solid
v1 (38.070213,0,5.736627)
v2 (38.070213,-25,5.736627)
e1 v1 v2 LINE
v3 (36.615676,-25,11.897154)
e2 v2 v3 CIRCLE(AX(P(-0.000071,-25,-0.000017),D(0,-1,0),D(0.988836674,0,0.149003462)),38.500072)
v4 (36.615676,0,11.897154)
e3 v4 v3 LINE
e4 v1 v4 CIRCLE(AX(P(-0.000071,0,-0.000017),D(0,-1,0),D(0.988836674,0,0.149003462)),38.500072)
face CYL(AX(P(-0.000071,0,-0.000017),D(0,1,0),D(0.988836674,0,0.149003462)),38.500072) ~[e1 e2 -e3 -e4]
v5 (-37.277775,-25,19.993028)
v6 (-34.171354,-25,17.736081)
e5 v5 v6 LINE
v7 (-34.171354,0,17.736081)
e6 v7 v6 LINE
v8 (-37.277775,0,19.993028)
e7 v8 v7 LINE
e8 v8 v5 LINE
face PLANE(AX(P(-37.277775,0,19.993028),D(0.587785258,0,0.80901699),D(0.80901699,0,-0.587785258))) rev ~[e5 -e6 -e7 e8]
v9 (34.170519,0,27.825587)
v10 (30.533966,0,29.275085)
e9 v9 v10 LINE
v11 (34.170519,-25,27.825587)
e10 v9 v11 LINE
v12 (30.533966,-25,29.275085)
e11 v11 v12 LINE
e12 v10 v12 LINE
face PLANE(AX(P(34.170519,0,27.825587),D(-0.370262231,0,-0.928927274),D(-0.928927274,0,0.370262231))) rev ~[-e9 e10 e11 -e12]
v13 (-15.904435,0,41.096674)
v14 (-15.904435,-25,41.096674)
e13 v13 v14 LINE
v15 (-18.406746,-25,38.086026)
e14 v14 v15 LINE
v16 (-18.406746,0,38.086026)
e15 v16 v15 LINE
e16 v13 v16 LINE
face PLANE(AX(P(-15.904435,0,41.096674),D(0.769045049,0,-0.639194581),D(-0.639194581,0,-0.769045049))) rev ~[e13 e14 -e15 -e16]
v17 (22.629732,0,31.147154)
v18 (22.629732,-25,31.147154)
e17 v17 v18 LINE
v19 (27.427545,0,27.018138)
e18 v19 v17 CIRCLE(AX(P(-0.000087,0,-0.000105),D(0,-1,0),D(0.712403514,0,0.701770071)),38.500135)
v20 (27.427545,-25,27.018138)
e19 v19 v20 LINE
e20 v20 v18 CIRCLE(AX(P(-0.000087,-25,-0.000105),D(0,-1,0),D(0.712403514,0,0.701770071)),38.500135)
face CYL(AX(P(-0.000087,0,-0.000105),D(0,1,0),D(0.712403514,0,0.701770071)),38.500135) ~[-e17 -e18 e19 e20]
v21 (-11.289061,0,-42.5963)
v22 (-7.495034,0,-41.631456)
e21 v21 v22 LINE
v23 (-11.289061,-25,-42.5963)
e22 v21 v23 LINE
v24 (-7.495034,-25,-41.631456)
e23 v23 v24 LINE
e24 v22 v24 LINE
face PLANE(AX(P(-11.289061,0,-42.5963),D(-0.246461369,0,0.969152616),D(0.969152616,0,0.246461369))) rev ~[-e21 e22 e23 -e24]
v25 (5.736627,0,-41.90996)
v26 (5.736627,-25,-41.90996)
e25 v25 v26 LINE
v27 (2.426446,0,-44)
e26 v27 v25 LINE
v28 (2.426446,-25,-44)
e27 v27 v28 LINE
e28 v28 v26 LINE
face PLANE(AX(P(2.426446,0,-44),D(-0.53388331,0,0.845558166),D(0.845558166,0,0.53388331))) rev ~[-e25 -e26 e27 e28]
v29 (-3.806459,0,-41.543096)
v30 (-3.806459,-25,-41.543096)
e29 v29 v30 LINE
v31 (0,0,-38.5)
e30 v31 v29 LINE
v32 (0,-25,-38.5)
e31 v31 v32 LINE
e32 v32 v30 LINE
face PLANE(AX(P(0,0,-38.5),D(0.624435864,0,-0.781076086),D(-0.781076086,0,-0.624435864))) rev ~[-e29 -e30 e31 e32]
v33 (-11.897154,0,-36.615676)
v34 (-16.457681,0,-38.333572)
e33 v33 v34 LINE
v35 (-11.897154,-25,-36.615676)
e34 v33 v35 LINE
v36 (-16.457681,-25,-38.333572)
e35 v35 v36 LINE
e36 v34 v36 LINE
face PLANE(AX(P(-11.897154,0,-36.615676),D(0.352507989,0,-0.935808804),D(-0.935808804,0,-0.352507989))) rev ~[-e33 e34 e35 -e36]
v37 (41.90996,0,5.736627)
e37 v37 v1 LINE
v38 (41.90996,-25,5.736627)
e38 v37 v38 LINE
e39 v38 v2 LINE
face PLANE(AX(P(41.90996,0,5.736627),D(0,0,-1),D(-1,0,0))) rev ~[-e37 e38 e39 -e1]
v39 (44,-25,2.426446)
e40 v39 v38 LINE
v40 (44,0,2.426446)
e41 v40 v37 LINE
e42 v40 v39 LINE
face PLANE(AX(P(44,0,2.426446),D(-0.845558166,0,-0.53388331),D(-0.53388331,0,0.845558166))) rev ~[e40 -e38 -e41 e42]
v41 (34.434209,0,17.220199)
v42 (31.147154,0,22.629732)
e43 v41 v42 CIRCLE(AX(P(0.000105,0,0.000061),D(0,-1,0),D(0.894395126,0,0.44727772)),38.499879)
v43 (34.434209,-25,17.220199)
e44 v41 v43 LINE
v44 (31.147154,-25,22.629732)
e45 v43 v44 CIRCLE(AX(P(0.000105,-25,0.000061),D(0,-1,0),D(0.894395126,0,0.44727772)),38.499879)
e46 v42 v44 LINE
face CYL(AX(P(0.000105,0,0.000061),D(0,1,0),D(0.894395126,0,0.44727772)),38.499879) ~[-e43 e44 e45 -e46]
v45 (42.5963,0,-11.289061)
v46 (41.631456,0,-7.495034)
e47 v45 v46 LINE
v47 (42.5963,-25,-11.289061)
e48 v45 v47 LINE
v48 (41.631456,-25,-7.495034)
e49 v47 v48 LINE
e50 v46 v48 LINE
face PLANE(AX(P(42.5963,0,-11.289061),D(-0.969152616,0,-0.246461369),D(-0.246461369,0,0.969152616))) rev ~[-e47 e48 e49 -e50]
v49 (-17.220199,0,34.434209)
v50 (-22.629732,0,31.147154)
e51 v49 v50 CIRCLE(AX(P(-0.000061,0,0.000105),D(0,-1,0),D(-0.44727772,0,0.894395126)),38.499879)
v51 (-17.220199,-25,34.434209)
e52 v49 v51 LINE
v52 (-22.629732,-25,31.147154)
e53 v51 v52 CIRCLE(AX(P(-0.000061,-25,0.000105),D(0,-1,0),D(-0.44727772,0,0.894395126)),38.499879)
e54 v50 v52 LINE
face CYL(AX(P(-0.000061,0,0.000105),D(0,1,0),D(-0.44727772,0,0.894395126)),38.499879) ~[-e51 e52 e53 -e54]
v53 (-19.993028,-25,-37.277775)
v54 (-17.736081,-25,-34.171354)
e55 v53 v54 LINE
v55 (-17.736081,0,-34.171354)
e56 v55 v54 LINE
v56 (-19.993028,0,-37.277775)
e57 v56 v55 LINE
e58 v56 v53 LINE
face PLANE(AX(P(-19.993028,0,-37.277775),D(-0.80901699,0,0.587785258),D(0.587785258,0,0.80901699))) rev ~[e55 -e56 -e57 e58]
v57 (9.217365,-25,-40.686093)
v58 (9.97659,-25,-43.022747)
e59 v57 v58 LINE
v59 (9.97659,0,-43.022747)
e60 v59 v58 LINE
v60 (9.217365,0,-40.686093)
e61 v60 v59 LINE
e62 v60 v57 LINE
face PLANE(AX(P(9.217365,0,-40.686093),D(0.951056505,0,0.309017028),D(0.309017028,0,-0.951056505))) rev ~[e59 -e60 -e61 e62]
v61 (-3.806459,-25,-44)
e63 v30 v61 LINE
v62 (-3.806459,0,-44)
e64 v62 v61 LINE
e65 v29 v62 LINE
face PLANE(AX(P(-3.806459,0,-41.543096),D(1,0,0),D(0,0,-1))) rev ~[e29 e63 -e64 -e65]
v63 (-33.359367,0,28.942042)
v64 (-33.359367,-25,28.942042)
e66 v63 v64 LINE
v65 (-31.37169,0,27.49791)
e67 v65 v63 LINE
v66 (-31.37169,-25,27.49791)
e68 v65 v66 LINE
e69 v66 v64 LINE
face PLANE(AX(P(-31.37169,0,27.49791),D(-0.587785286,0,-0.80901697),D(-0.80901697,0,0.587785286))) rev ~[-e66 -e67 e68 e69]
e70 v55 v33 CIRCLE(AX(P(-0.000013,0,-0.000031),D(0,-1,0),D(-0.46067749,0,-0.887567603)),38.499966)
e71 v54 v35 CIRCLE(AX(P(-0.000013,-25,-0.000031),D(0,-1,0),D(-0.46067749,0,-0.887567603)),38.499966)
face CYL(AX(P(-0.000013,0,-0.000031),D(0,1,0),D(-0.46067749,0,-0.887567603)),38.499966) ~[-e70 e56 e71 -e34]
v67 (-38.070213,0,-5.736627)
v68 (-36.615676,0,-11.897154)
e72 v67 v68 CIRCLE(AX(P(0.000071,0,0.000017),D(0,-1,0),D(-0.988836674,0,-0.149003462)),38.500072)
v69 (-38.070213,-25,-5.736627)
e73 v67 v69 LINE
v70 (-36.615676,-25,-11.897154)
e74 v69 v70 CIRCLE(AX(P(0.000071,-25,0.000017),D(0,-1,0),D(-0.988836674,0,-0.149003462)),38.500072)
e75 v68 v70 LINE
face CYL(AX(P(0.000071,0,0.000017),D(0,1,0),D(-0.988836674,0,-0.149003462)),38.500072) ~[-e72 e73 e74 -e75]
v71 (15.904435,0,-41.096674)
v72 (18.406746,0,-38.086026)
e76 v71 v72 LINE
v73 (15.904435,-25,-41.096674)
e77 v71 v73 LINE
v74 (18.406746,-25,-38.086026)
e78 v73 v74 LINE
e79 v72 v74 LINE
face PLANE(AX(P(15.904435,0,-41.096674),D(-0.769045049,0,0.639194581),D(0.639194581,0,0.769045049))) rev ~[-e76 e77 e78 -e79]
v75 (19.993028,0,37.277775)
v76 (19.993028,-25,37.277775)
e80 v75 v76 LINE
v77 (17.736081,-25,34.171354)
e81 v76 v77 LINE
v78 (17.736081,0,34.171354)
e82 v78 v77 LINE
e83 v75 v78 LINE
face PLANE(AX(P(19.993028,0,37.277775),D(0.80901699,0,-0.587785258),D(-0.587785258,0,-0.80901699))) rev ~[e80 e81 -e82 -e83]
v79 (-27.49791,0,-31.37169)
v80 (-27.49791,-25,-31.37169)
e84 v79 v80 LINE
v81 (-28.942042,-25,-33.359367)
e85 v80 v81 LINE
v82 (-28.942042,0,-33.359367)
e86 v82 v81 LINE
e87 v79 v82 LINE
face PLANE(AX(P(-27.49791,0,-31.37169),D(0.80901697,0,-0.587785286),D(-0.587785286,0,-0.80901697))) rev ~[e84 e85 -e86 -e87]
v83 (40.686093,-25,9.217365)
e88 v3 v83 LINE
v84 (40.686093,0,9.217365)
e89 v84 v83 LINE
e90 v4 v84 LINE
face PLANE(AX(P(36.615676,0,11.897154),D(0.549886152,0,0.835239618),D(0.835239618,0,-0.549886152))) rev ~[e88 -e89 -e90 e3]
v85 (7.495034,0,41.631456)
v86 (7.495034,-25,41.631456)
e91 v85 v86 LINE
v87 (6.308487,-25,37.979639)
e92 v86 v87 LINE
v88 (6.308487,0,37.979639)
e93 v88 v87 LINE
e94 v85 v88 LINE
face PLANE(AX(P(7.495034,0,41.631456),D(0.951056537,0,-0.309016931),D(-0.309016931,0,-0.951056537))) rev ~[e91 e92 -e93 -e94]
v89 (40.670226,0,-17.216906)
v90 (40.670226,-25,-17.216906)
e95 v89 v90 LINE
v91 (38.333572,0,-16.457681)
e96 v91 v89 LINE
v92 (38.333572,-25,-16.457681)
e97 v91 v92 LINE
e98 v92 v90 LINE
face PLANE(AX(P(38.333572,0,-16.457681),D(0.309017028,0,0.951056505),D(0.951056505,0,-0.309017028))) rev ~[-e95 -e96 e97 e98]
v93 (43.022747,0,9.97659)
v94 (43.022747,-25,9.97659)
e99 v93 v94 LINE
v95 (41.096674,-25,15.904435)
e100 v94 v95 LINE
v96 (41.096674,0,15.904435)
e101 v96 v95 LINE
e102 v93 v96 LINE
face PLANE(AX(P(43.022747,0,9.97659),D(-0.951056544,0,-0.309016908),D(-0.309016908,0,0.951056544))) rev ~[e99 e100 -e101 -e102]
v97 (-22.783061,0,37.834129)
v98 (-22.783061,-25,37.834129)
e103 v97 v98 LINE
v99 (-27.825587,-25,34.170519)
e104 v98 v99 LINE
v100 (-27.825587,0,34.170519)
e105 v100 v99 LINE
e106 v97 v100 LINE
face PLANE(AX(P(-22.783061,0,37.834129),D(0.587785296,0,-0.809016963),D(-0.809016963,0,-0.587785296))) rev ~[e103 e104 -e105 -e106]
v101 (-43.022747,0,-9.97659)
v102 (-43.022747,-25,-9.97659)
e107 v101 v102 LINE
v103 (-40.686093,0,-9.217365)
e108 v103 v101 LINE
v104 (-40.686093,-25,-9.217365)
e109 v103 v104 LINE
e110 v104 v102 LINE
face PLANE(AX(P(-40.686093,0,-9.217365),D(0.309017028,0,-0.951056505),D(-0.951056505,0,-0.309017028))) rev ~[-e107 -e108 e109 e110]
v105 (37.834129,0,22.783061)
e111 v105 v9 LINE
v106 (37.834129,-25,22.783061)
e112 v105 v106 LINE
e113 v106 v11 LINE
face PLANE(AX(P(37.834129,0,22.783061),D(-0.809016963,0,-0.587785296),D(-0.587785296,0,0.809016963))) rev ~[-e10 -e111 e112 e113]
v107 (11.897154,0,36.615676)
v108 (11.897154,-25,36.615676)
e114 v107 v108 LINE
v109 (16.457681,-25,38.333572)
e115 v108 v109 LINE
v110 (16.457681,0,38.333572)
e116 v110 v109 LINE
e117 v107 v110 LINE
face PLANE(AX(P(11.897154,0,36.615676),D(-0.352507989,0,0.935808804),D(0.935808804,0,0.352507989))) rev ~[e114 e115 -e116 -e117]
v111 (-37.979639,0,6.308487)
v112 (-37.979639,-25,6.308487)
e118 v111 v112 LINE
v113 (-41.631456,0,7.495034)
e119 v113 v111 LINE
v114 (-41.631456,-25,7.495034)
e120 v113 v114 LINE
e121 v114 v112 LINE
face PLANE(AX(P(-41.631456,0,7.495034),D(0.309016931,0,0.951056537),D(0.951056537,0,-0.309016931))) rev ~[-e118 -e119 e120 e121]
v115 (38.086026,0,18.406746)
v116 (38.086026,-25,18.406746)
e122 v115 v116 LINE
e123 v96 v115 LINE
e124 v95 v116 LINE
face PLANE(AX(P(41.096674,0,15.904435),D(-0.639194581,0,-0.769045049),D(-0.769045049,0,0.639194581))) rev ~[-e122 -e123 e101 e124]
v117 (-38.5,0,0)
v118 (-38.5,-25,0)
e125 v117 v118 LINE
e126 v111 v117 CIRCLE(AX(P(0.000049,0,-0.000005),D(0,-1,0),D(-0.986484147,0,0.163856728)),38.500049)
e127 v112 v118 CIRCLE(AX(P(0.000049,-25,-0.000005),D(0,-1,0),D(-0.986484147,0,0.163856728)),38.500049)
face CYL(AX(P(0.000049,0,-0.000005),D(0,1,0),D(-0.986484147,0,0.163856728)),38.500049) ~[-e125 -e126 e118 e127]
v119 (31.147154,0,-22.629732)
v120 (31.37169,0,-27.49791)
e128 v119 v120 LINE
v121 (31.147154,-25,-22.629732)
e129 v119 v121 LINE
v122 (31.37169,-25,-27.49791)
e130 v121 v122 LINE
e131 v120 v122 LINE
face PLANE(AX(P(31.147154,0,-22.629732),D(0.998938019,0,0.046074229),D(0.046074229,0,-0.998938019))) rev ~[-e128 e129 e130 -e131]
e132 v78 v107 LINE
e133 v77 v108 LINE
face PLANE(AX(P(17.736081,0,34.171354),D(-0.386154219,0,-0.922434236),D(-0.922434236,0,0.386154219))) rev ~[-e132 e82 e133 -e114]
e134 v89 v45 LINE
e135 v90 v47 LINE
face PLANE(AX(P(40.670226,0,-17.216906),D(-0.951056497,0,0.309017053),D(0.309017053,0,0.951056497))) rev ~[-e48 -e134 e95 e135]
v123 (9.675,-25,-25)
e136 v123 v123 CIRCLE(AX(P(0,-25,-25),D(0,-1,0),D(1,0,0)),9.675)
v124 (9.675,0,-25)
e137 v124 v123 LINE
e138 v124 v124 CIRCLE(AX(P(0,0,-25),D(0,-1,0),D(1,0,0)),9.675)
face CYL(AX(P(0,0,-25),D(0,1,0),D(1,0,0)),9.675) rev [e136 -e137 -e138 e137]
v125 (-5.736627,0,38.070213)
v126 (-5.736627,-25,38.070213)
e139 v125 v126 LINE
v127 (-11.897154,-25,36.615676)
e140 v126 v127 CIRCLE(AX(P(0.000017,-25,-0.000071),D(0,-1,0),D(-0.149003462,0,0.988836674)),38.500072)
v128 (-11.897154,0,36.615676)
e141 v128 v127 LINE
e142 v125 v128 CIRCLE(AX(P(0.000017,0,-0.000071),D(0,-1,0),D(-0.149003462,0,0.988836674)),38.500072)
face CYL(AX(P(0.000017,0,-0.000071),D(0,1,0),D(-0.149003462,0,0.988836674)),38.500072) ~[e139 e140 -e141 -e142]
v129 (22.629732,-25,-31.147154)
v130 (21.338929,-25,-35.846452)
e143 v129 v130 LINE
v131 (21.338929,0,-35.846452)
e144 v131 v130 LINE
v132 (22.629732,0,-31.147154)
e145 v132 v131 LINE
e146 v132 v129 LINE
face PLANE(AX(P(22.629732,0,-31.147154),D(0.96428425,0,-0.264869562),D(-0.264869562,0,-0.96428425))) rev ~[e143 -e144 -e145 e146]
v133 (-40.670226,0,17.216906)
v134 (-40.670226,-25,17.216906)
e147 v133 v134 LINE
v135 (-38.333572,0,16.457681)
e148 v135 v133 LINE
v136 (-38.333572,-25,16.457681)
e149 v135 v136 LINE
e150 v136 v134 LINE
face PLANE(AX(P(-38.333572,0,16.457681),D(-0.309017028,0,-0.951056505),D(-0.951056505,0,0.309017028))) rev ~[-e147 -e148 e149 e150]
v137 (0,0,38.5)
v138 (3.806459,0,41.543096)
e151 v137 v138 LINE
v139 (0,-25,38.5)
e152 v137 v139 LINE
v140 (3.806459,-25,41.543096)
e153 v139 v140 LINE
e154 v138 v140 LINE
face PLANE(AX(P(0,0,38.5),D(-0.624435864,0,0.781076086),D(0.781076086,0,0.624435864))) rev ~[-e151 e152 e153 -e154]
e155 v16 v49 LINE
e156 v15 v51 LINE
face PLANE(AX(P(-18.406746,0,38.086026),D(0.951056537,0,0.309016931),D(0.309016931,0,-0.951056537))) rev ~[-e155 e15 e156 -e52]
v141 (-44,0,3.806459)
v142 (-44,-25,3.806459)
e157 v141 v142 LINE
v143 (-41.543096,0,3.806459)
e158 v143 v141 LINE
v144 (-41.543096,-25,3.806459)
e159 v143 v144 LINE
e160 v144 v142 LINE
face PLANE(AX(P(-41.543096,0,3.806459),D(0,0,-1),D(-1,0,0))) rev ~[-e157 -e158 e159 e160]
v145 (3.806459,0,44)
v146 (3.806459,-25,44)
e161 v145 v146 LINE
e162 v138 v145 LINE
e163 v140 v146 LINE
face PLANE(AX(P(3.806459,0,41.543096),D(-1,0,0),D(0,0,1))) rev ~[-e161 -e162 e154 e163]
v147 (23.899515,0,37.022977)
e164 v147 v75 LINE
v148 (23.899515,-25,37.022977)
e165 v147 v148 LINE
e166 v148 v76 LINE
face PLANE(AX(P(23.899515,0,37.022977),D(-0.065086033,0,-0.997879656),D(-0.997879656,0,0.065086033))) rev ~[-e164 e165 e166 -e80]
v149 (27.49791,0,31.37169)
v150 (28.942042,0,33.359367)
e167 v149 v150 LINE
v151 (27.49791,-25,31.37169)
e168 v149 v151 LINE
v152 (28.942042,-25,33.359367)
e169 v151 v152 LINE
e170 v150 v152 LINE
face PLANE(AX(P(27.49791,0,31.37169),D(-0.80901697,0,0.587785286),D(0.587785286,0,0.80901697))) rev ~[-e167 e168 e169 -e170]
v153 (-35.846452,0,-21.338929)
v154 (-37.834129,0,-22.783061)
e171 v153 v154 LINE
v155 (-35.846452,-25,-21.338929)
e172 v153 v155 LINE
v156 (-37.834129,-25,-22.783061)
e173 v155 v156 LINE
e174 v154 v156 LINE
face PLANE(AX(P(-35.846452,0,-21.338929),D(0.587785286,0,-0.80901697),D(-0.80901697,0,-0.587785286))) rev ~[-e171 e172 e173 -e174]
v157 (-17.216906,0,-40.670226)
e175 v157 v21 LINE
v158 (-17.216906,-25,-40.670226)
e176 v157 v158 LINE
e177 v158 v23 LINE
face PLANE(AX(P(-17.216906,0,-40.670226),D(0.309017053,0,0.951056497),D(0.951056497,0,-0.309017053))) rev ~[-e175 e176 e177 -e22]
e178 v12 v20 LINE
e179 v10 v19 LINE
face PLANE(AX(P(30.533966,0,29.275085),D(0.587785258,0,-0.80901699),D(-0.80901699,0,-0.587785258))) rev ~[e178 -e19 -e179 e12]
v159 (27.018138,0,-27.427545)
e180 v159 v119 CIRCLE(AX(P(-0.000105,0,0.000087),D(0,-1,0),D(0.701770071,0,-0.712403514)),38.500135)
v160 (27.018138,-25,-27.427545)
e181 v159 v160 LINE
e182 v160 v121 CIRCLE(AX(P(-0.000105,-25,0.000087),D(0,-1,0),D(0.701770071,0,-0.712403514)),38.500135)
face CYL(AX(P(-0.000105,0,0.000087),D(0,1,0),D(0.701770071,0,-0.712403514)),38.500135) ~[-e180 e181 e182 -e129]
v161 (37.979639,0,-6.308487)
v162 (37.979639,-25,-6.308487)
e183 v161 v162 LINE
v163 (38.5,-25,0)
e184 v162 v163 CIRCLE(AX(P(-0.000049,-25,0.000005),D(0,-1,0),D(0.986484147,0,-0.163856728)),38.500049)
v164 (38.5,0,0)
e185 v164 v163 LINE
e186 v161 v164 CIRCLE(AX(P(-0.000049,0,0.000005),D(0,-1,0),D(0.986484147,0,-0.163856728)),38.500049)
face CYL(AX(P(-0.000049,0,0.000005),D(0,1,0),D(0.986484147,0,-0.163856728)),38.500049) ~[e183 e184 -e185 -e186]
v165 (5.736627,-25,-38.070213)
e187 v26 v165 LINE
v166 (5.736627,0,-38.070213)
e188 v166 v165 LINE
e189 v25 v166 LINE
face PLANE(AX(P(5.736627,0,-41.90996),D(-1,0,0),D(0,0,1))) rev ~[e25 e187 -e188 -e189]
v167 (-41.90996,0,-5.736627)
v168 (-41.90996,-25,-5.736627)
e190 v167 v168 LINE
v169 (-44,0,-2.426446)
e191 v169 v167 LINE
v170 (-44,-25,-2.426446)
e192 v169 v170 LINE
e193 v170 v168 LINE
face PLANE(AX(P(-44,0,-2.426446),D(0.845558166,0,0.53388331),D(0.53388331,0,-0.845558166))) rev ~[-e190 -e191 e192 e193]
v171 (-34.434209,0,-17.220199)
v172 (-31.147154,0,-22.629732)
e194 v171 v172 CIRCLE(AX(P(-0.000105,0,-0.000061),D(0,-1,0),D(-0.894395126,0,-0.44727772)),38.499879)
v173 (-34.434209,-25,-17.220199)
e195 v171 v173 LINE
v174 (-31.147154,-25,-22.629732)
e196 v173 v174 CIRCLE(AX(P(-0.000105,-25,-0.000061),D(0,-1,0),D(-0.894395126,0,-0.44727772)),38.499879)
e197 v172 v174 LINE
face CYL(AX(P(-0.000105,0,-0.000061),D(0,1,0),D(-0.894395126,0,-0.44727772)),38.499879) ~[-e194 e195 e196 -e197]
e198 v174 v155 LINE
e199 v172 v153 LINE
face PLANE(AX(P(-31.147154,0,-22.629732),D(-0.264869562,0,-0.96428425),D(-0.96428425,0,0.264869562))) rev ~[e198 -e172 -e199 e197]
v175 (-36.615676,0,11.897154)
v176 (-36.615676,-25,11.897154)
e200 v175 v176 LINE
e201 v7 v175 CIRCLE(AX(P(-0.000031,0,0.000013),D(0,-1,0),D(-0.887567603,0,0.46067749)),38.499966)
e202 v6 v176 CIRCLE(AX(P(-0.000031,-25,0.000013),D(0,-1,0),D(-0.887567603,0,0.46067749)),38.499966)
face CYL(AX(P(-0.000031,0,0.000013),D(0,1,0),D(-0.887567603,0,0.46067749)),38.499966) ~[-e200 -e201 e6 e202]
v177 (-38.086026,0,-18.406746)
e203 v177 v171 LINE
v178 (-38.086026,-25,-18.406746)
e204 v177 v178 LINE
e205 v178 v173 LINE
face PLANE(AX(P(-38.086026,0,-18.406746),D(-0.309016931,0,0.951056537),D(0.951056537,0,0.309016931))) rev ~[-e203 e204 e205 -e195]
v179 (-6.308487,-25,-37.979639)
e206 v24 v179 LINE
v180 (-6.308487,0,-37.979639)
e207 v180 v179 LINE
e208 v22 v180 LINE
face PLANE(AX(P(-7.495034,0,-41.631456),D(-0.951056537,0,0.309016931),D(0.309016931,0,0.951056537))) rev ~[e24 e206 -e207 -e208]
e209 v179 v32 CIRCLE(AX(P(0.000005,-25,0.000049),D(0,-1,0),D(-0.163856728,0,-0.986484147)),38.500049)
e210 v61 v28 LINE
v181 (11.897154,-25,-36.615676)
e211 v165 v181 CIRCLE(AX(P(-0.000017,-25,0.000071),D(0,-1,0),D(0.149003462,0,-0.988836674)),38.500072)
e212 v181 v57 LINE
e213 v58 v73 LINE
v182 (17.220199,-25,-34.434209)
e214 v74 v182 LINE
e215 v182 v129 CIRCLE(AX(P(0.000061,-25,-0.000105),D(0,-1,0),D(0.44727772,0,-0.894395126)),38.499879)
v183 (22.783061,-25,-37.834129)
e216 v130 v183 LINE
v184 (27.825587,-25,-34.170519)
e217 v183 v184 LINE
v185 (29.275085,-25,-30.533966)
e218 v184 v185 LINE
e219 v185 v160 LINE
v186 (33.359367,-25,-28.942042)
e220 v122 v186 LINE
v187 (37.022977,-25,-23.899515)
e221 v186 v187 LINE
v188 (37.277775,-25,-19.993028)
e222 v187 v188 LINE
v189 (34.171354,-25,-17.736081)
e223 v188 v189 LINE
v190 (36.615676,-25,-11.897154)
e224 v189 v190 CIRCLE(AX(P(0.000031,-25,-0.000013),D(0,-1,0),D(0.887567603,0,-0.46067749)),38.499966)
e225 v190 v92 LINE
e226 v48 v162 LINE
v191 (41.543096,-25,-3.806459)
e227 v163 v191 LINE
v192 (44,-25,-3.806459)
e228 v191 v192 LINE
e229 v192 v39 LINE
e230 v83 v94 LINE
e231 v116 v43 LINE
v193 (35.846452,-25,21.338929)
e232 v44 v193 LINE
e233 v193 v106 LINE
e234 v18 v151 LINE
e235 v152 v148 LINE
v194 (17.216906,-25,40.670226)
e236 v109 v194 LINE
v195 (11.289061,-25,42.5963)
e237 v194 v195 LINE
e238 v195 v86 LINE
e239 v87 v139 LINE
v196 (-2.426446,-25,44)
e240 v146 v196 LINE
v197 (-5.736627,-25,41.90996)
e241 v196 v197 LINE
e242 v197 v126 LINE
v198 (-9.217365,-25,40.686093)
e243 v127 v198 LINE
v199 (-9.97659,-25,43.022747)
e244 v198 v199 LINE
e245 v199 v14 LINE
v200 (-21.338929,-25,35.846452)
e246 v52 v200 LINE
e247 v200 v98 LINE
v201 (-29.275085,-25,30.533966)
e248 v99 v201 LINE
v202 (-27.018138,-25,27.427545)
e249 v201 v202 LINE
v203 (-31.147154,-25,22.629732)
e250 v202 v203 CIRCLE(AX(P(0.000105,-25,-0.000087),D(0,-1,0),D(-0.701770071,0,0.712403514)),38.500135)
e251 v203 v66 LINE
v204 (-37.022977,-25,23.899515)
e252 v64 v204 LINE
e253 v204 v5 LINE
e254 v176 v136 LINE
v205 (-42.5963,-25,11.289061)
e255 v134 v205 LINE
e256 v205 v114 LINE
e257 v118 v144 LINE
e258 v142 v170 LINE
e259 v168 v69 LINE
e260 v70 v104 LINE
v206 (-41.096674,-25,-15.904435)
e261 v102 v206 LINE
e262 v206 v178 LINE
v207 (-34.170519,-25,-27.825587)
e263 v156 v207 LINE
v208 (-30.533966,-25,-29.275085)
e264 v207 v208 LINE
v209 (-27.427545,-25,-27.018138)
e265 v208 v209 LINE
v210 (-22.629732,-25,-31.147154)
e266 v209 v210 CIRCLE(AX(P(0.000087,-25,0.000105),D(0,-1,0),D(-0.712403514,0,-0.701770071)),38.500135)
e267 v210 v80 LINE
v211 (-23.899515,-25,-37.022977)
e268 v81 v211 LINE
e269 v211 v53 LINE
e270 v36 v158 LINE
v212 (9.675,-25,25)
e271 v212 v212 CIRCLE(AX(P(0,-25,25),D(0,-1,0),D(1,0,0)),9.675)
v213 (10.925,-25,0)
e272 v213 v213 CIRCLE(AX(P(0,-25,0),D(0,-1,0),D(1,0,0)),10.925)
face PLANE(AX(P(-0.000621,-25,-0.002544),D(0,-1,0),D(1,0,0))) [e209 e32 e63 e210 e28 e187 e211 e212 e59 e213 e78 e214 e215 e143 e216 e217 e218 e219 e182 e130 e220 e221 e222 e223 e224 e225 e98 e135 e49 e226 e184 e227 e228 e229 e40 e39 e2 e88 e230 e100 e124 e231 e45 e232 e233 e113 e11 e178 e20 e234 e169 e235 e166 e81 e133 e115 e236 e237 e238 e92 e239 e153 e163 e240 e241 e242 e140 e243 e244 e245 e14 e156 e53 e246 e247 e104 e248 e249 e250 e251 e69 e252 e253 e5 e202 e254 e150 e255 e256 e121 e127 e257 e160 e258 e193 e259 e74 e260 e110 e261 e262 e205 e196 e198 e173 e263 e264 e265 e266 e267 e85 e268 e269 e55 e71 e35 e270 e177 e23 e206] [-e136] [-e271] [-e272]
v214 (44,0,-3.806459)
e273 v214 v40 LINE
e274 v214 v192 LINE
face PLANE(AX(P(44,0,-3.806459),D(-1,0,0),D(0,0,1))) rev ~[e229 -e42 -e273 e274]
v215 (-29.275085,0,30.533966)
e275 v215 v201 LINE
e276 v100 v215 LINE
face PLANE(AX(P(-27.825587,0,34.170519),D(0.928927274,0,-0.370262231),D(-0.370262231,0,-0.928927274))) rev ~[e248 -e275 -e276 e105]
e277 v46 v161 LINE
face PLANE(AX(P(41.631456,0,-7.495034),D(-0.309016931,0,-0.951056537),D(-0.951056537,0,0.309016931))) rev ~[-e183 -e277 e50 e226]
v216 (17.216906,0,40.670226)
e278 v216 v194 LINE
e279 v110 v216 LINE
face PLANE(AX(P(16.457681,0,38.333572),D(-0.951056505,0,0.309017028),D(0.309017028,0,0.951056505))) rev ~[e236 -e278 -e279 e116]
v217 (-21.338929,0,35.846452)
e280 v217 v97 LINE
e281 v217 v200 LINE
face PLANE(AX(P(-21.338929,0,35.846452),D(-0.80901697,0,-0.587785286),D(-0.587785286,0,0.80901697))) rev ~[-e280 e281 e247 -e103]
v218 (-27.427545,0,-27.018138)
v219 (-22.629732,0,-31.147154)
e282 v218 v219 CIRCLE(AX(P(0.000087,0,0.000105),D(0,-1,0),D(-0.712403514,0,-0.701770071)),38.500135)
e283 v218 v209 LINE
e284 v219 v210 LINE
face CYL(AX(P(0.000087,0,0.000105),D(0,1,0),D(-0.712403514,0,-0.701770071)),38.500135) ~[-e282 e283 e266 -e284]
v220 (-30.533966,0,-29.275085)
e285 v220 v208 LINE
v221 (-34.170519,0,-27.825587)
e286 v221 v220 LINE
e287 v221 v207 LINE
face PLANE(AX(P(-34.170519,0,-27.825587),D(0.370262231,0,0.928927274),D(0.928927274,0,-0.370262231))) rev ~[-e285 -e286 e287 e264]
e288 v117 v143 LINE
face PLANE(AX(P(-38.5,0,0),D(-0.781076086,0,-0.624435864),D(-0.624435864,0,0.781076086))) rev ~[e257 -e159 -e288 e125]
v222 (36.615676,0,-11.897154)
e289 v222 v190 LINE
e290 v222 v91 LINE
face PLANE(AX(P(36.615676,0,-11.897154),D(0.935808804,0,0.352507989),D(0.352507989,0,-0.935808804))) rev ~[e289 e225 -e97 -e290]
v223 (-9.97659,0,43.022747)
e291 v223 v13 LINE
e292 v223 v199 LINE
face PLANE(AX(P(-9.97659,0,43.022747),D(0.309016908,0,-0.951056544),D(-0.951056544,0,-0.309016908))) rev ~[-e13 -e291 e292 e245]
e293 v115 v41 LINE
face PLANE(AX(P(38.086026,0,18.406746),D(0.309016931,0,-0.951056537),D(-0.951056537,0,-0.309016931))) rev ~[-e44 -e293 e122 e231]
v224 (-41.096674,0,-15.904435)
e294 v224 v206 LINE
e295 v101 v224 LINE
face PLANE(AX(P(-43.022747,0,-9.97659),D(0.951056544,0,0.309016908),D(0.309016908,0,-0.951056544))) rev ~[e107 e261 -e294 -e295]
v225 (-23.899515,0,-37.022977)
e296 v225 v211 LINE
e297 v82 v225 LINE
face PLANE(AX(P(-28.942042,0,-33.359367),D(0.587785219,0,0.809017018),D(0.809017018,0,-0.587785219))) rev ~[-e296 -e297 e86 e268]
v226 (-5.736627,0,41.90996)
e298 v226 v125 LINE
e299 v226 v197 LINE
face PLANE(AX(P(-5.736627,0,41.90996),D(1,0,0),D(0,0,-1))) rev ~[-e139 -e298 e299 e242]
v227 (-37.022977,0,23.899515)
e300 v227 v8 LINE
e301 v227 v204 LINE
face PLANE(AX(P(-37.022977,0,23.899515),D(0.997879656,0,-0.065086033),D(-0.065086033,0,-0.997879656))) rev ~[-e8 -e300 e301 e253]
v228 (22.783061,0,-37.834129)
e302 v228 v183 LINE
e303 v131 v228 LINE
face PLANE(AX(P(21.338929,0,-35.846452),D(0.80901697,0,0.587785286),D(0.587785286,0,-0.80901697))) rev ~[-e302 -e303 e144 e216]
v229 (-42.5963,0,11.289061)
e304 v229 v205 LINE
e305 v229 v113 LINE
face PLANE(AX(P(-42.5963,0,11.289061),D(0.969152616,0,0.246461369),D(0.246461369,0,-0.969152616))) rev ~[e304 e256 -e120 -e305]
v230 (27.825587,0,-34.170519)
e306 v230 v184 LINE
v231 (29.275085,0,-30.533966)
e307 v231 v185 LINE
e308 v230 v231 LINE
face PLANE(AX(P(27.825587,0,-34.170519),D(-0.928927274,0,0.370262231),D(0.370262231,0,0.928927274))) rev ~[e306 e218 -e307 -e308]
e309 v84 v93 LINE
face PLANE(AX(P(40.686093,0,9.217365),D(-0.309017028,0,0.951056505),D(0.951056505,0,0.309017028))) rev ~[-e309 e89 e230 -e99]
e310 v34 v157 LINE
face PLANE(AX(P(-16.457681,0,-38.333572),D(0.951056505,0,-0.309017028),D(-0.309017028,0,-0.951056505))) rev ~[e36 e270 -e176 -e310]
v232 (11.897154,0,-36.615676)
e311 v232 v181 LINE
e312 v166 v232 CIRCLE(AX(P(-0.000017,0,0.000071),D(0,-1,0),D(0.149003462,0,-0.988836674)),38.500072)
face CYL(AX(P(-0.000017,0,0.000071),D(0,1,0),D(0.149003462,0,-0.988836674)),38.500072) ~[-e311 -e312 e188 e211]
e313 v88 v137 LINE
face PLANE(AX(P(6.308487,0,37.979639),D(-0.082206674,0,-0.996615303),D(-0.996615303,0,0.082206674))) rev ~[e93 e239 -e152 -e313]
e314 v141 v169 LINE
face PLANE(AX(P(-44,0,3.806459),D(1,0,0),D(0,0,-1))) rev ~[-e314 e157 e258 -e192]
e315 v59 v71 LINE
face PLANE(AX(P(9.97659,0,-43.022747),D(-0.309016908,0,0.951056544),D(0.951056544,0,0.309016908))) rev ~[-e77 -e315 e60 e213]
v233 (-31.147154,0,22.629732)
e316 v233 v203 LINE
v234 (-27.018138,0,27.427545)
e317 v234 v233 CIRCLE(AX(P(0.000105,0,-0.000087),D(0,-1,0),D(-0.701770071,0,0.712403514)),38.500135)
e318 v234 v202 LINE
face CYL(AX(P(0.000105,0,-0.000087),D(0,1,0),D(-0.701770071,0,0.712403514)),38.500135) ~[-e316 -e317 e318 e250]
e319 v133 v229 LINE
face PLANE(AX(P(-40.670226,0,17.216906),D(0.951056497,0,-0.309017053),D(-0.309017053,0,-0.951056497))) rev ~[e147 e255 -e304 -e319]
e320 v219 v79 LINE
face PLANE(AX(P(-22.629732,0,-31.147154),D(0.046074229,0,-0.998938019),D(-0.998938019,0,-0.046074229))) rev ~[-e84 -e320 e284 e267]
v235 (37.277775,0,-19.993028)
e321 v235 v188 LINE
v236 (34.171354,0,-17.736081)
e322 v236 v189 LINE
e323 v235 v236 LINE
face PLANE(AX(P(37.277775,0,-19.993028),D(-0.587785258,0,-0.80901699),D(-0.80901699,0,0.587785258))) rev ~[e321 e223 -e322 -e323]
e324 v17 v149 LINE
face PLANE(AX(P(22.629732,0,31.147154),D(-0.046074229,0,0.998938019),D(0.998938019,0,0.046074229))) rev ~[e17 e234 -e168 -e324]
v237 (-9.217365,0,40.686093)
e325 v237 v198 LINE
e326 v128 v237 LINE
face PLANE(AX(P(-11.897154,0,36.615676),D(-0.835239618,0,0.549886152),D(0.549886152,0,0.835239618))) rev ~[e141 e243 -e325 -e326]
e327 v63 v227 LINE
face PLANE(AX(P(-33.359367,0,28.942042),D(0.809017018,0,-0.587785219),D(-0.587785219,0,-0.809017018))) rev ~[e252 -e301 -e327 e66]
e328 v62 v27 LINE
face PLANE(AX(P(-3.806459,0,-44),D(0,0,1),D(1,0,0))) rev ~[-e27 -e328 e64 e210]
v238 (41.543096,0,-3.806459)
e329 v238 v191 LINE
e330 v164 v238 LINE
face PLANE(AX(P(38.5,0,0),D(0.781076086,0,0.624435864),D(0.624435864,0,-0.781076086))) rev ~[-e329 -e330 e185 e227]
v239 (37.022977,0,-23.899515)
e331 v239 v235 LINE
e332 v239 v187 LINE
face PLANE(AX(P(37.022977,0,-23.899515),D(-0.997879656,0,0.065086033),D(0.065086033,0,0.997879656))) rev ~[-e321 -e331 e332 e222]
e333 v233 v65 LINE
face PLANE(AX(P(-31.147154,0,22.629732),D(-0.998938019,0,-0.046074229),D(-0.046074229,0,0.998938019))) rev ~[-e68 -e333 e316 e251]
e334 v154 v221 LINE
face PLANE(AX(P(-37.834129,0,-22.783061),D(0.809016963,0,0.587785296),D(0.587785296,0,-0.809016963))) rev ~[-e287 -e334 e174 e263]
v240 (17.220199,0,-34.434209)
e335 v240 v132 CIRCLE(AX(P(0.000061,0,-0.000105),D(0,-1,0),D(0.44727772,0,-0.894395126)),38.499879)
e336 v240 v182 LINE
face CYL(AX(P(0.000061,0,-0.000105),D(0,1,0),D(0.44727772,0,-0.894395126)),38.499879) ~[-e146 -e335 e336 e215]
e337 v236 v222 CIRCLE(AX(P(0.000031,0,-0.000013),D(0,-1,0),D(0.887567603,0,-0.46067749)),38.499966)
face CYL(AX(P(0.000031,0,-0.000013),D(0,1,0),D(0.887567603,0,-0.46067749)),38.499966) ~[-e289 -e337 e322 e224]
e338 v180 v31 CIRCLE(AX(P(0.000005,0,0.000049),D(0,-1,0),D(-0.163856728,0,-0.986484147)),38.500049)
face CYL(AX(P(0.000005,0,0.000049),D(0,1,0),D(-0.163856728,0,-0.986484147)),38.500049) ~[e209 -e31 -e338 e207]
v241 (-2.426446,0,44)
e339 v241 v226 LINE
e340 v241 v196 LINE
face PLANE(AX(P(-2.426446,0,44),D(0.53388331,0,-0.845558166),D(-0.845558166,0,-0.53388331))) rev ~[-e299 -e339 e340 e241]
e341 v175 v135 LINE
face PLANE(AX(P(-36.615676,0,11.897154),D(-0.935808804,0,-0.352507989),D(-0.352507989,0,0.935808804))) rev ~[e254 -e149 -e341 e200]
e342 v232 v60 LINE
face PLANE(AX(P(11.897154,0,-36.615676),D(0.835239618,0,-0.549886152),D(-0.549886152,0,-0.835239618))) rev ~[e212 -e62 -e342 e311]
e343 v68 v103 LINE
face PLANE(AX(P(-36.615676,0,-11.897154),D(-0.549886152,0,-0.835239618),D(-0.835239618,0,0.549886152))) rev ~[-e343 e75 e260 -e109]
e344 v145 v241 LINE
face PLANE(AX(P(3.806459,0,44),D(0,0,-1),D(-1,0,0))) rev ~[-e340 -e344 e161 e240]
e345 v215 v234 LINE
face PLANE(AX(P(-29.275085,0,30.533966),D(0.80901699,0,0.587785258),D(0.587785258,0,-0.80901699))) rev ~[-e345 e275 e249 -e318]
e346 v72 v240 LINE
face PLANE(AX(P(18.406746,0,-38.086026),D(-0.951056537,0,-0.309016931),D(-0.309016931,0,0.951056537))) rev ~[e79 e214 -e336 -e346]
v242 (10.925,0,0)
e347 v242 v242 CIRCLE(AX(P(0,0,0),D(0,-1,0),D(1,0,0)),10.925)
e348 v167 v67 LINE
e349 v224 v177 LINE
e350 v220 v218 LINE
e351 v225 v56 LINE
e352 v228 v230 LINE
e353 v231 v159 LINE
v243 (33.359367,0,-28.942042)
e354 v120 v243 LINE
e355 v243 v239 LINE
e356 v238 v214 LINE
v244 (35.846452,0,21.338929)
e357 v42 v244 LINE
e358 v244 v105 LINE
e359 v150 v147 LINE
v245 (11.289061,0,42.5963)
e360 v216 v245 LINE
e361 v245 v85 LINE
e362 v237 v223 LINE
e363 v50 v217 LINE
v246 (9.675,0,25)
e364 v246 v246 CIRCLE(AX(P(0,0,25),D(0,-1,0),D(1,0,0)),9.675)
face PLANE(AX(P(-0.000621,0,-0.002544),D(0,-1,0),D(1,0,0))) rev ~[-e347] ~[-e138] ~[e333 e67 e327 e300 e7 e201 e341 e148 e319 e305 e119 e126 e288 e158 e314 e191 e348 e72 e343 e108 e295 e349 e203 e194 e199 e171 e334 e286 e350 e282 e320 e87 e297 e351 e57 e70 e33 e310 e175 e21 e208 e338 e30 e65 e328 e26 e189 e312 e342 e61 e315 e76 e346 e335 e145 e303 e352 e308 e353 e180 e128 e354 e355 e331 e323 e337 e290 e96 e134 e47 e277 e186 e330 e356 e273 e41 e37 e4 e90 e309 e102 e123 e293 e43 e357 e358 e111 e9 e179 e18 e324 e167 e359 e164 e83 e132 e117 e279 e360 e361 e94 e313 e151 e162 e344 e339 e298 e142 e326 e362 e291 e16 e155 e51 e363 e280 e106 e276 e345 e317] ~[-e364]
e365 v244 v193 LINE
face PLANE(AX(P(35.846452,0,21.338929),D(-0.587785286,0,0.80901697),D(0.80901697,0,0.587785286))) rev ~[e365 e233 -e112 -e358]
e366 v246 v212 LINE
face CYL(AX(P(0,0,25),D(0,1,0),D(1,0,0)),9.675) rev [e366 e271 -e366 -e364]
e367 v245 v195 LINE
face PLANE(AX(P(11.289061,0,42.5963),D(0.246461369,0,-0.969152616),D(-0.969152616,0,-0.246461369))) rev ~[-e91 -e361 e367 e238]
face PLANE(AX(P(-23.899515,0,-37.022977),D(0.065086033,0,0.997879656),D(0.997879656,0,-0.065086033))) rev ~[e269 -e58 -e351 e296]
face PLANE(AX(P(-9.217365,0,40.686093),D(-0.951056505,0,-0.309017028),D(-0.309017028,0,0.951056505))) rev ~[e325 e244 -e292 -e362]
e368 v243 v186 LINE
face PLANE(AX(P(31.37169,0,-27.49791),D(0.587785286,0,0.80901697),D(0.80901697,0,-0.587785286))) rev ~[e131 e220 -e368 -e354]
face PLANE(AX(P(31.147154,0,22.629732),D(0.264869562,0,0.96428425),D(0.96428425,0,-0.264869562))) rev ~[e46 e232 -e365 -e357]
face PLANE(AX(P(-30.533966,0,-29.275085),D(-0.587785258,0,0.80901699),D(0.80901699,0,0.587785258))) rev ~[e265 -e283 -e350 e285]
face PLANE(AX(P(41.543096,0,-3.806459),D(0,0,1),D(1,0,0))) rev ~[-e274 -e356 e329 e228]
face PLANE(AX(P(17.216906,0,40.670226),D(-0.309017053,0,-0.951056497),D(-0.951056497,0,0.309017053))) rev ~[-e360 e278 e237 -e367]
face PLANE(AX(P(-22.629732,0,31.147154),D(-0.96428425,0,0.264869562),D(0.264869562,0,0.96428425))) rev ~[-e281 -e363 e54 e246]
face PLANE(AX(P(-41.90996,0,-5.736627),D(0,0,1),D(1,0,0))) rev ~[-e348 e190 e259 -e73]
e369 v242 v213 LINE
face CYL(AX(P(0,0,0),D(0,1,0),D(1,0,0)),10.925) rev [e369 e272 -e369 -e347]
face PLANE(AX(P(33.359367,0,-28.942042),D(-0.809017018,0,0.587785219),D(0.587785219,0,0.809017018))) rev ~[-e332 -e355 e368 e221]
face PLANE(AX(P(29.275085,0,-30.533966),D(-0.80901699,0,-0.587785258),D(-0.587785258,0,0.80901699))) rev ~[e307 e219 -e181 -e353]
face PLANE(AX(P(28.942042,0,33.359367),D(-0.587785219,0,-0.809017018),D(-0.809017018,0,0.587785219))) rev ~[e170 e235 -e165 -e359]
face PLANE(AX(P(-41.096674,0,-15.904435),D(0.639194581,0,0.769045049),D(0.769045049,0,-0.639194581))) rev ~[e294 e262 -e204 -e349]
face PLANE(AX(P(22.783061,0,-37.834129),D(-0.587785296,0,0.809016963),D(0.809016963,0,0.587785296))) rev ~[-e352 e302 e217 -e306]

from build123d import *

# Parameters (mm, degrees)
F0_R     = 9.675
F0_R_2   = 10.925
F1_DEPTH = 25


with BuildPart() as f1:
    # F0 (on Front) → F1 (new body)
    with BuildSketch(Plane.XZ):
        with BuildLine():
            Line((3.806459, 44), (-2.426446, 44))
            Line((-2.426446, 44), (-5.736627, 41.90996))
            Line((-5.736627, 41.90996), (-5.736627, 38.070213))
            ThreePointArc((-5.736627, 38.070213), (-8.846834, 37.469768), (-11.897154, 36.615676))
            Line((-11.897154, 36.615676), (-9.217365, 40.686093))
            Line((-9.217365, 40.686093), (-9.97659, 43.022747))
            Line((-9.97659, 43.022747), (-15.904435, 41.096674))
            Line((-15.904435, 41.096674), (-18.406746, 38.086026))
            Line((-18.406746, 38.086026), (-17.220199, 34.434209))
            ThreePointArc((-17.220199, 34.434209), (-19.992635, 32.902045), (-22.629732, 31.147154))
            Line((-22.629732, 31.147154), (-21.338929, 35.846452))
            Line((-21.338929, 35.846452), (-22.783061, 37.834129))
            Line((-22.783061, 37.834129), (-27.825587, 34.170519))
            Line((-27.825587, 34.170519), (-29.275085, 30.533966))
            Line((-29.275085, 30.533966), (-27.018138, 27.427545))
            ThreePointArc((-27.018138, 27.427545), (-29.181416, 25.11364), (-31.147154, 22.629732))
            Line((-31.147154, 22.629732), (-31.37169, 27.49791))
            Line((-31.37169, 27.49791), (-33.359367, 28.942042))
            Line((-33.359367, 28.942042), (-37.022977, 23.899515))
            Line((-37.022977, 23.899515), (-37.277775, 19.993028))
            Line((-37.277775, 19.993028), (-34.171354, 17.736081))
            ThreePointArc((-34.171354, 17.736081), (-35.513718, 14.866938), (-36.615676, 11.897154))
            Line((-36.615676, 11.897154), (-38.333572, 16.457681))
            Line((-38.333572, 16.457681), (-40.670226, 17.216906))
            Line((-40.670226, 17.216906), (-42.5963, 11.289061))
            Line((-42.5963, 11.289061), (-41.631456, 7.495034))
            Line((-41.631456, 7.495034), (-37.979639, 6.308487))
            ThreePointArc((-37.979639, 6.308487), (-38.369689, 3.164956), (-38.5, 0))
            Line((-38.5, 0), (-41.543096, 3.806459))
            Line((-41.543096, 3.806459), (-44, 3.806459))
            Line((-44, 3.806459), (-44, -2.426446))
            Line((-44, -2.426446), (-41.90996, -5.736627))
            Line((-41.90996, -5.736627), (-38.070213, -5.736627))
            ThreePointArc((-38.070213, -5.736627), (-37.469768, -8.846834), (-36.615676, -11.897154))
            Line((-36.615676, -11.897154), (-40.686093, -9.217365))
            Line((-40.686093, -9.217365), (-43.022747, -9.97659))
            Line((-43.022747, -9.97659), (-41.096674, -15.904435))
            Line((-41.096674, -15.904435), (-38.086026, -18.406746))
            Line((-38.086026, -18.406746), (-34.434209, -17.220199))
            ThreePointArc((-34.434209, -17.220199), (-32.902045, -19.992635), (-31.147154, -22.629732))
            Line((-31.147154, -22.629732), (-35.846452, -21.338929))
            Line((-35.846452, -21.338929), (-37.834129, -22.783061))
            Line((-37.834129, -22.783061), (-34.170519, -27.825587))
            Line((-34.170519, -27.825587), (-30.533966, -29.275085))
            Line((-30.533966, -29.275085), (-27.427545, -27.018138))
            ThreePointArc((-27.427545, -27.018138), (-25.11364, -29.181416), (-22.629732, -31.147154))
            Line((-22.629732, -31.147154), (-27.49791, -31.37169))
            Line((-27.49791, -31.37169), (-28.942042, -33.359367))
            Line((-28.942042, -33.359367), (-23.899515, -37.022977))
            Line((-23.899515, -37.022977), (-19.993028, -37.277775))
            Line((-19.993028, -37.277775), (-17.736081, -34.171354))
            ThreePointArc((-17.736081, -34.171354), (-14.866938, -35.513718), (-11.897154, -36.615676))
            Line((-11.897154, -36.615676), (-16.457681, -38.333572))
            Line((-16.457681, -38.333572), (-17.216906, -40.670226))
            Line((-17.216906, -40.670226), (-11.289061, -42.5963))
            Line((-11.289061, -42.5963), (-7.495034, -41.631456))
            Line((-7.495034, -41.631456), (-6.308487, -37.979639))
            ThreePointArc((-6.308487, -37.979639), (-3.164956, -38.369689), (0, -38.5))
            Line((0, -38.5), (-3.806459, -41.543096))
            Line((-3.806459, -41.543096), (-3.806459, -44))
            Line((-3.806459, -44), (2.426446, -44))
            Line((2.426446, -44), (5.736627, -41.90996))
            Line((5.736627, -41.90996), (5.736627, -38.070213))
            ThreePointArc((5.736627, -38.070213), (8.846834, -37.469768), (11.897154, -36.615676))
            Line((11.897154, -36.615676), (9.217365, -40.686093))
            Line((9.217365, -40.686093), (9.97659, -43.022747))
            Line((9.97659, -43.022747), (15.904435, -41.096674))
            Line((15.904435, -41.096674), (18.406746, -38.086026))
            Line((18.406746, -38.086026), (17.220199, -34.434209))
            ThreePointArc((17.220199, -34.434209), (19.992635, -32.902045), (22.629732, -31.147154))
            Line((22.629732, -31.147154), (21.338929, -35.846452))
            Line((21.338929, -35.846452), (22.783061, -37.834129))
            Line((22.783061, -37.834129), (27.825587, -34.170519))
            Line((27.825587, -34.170519), (29.275085, -30.533966))
            Line((29.275085, -30.533966), (27.018138, -27.427545))
            ThreePointArc((27.018138, -27.427545), (29.181416, -25.11364), (31.147154, -22.629732))
            Line((31.147154, -22.629732), (31.37169, -27.49791))
            Line((31.37169, -27.49791), (33.359367, -28.942042))
            Line((33.359367, -28.942042), (37.022977, -23.899515))
            Line((37.022977, -23.899515), (37.277775, -19.993028))
            Line((37.277775, -19.993028), (34.171354, -17.736081))
            ThreePointArc((34.171354, -17.736081), (35.513718, -14.866938), (36.615676, -11.897154))
            Line((36.615676, -11.897154), (38.333572, -16.457681))
            Line((38.333572, -16.457681), (40.670226, -17.216906))
            Line((40.670226, -17.216906), (42.5963, -11.289061))
            Line((42.5963, -11.289061), (41.631456, -7.495034))
            Line((41.631456, -7.495034), (37.979639, -6.308487))
            ThreePointArc((37.979639, -6.308487), (38.369689, -3.164956), (38.5, 0))
            Line((38.5, 0), (41.543096, -3.806459))
            Line((41.543096, -3.806459), (44, -3.806459))
            Line((44, -3.806459), (44, 2.426446))
            Line((44, 2.426446), (41.90996, 5.736627))
            Line((41.90996, 5.736627), (38.070213, 5.736627))
            ThreePointArc((38.070213, 5.736627), (37.469768, 8.846834), (36.615676, 11.897154))
            Line((36.615676, 11.897154), (40.686093, 9.217365))
            Line((40.686093, 9.217365), (43.022747, 9.97659))
            Line((43.022747, 9.97659), (41.096674, 15.904435))
            Line((41.096674, 15.904435), (38.086026, 18.406746))
            Line((38.086026, 18.406746), (34.434209, 17.220199))
            ThreePointArc((34.434209, 17.220199), (32.902045, 19.992635), (31.147154, 22.629732))
            Line((31.147154, 22.629732), (35.846452, 21.338929))
            Line((35.846452, 21.338929), (37.834129, 22.783061))
            Line((37.834129, 22.783061), (34.170519, 27.825587))
            Line((34.170519, 27.825587), (30.533966, 29.275085))
            Line((30.533966, 29.275085), (27.427545, 27.018138))
            ThreePointArc((27.427545, 27.018138), (25.11364, 29.181416), (22.629732, 31.147154))
            Line((22.629732, 31.147154), (27.49791, 31.37169))
            Line((27.49791, 31.37169), (28.942042, 33.359367))
            Line((28.942042, 33.359367), (23.899515, 37.022977))
            Line((23.899515, 37.022977), (19.993028, 37.277775))
            Line((19.993028, 37.277775), (17.736081, 34.171354))
            Line((17.736081, 34.171354), (11.897154, 36.615676))
            Line((11.897154, 36.615676), (16.457681, 38.333572))
            Line((16.457681, 38.333572), (17.216906, 40.670226))
            Line((17.216906, 40.670226), (11.289061, 42.5963))
            Line((11.289061, 42.5963), (7.495034, 41.631456))
            Line((7.495034, 41.631456), (6.308487, 37.979639))
            Line((6.308487, 37.979639), (0, 38.5))
            Line((0, 38.5), (3.806459, 41.543096))
            Line((3.806459, 41.543096), (3.806459, 44))
        make_face()
        with Locations((0, -25)):
            Circle(F0_R, mode=Mode.SUBTRACT)
        Circle(F0_R_2, mode=Mode.SUBTRACT)
        with Locations((0, 25)):
            Circle(F0_R, mode=Mode.SUBTRACT)
    extrude(amount=F1_DEPTH)


solid = f1.part
